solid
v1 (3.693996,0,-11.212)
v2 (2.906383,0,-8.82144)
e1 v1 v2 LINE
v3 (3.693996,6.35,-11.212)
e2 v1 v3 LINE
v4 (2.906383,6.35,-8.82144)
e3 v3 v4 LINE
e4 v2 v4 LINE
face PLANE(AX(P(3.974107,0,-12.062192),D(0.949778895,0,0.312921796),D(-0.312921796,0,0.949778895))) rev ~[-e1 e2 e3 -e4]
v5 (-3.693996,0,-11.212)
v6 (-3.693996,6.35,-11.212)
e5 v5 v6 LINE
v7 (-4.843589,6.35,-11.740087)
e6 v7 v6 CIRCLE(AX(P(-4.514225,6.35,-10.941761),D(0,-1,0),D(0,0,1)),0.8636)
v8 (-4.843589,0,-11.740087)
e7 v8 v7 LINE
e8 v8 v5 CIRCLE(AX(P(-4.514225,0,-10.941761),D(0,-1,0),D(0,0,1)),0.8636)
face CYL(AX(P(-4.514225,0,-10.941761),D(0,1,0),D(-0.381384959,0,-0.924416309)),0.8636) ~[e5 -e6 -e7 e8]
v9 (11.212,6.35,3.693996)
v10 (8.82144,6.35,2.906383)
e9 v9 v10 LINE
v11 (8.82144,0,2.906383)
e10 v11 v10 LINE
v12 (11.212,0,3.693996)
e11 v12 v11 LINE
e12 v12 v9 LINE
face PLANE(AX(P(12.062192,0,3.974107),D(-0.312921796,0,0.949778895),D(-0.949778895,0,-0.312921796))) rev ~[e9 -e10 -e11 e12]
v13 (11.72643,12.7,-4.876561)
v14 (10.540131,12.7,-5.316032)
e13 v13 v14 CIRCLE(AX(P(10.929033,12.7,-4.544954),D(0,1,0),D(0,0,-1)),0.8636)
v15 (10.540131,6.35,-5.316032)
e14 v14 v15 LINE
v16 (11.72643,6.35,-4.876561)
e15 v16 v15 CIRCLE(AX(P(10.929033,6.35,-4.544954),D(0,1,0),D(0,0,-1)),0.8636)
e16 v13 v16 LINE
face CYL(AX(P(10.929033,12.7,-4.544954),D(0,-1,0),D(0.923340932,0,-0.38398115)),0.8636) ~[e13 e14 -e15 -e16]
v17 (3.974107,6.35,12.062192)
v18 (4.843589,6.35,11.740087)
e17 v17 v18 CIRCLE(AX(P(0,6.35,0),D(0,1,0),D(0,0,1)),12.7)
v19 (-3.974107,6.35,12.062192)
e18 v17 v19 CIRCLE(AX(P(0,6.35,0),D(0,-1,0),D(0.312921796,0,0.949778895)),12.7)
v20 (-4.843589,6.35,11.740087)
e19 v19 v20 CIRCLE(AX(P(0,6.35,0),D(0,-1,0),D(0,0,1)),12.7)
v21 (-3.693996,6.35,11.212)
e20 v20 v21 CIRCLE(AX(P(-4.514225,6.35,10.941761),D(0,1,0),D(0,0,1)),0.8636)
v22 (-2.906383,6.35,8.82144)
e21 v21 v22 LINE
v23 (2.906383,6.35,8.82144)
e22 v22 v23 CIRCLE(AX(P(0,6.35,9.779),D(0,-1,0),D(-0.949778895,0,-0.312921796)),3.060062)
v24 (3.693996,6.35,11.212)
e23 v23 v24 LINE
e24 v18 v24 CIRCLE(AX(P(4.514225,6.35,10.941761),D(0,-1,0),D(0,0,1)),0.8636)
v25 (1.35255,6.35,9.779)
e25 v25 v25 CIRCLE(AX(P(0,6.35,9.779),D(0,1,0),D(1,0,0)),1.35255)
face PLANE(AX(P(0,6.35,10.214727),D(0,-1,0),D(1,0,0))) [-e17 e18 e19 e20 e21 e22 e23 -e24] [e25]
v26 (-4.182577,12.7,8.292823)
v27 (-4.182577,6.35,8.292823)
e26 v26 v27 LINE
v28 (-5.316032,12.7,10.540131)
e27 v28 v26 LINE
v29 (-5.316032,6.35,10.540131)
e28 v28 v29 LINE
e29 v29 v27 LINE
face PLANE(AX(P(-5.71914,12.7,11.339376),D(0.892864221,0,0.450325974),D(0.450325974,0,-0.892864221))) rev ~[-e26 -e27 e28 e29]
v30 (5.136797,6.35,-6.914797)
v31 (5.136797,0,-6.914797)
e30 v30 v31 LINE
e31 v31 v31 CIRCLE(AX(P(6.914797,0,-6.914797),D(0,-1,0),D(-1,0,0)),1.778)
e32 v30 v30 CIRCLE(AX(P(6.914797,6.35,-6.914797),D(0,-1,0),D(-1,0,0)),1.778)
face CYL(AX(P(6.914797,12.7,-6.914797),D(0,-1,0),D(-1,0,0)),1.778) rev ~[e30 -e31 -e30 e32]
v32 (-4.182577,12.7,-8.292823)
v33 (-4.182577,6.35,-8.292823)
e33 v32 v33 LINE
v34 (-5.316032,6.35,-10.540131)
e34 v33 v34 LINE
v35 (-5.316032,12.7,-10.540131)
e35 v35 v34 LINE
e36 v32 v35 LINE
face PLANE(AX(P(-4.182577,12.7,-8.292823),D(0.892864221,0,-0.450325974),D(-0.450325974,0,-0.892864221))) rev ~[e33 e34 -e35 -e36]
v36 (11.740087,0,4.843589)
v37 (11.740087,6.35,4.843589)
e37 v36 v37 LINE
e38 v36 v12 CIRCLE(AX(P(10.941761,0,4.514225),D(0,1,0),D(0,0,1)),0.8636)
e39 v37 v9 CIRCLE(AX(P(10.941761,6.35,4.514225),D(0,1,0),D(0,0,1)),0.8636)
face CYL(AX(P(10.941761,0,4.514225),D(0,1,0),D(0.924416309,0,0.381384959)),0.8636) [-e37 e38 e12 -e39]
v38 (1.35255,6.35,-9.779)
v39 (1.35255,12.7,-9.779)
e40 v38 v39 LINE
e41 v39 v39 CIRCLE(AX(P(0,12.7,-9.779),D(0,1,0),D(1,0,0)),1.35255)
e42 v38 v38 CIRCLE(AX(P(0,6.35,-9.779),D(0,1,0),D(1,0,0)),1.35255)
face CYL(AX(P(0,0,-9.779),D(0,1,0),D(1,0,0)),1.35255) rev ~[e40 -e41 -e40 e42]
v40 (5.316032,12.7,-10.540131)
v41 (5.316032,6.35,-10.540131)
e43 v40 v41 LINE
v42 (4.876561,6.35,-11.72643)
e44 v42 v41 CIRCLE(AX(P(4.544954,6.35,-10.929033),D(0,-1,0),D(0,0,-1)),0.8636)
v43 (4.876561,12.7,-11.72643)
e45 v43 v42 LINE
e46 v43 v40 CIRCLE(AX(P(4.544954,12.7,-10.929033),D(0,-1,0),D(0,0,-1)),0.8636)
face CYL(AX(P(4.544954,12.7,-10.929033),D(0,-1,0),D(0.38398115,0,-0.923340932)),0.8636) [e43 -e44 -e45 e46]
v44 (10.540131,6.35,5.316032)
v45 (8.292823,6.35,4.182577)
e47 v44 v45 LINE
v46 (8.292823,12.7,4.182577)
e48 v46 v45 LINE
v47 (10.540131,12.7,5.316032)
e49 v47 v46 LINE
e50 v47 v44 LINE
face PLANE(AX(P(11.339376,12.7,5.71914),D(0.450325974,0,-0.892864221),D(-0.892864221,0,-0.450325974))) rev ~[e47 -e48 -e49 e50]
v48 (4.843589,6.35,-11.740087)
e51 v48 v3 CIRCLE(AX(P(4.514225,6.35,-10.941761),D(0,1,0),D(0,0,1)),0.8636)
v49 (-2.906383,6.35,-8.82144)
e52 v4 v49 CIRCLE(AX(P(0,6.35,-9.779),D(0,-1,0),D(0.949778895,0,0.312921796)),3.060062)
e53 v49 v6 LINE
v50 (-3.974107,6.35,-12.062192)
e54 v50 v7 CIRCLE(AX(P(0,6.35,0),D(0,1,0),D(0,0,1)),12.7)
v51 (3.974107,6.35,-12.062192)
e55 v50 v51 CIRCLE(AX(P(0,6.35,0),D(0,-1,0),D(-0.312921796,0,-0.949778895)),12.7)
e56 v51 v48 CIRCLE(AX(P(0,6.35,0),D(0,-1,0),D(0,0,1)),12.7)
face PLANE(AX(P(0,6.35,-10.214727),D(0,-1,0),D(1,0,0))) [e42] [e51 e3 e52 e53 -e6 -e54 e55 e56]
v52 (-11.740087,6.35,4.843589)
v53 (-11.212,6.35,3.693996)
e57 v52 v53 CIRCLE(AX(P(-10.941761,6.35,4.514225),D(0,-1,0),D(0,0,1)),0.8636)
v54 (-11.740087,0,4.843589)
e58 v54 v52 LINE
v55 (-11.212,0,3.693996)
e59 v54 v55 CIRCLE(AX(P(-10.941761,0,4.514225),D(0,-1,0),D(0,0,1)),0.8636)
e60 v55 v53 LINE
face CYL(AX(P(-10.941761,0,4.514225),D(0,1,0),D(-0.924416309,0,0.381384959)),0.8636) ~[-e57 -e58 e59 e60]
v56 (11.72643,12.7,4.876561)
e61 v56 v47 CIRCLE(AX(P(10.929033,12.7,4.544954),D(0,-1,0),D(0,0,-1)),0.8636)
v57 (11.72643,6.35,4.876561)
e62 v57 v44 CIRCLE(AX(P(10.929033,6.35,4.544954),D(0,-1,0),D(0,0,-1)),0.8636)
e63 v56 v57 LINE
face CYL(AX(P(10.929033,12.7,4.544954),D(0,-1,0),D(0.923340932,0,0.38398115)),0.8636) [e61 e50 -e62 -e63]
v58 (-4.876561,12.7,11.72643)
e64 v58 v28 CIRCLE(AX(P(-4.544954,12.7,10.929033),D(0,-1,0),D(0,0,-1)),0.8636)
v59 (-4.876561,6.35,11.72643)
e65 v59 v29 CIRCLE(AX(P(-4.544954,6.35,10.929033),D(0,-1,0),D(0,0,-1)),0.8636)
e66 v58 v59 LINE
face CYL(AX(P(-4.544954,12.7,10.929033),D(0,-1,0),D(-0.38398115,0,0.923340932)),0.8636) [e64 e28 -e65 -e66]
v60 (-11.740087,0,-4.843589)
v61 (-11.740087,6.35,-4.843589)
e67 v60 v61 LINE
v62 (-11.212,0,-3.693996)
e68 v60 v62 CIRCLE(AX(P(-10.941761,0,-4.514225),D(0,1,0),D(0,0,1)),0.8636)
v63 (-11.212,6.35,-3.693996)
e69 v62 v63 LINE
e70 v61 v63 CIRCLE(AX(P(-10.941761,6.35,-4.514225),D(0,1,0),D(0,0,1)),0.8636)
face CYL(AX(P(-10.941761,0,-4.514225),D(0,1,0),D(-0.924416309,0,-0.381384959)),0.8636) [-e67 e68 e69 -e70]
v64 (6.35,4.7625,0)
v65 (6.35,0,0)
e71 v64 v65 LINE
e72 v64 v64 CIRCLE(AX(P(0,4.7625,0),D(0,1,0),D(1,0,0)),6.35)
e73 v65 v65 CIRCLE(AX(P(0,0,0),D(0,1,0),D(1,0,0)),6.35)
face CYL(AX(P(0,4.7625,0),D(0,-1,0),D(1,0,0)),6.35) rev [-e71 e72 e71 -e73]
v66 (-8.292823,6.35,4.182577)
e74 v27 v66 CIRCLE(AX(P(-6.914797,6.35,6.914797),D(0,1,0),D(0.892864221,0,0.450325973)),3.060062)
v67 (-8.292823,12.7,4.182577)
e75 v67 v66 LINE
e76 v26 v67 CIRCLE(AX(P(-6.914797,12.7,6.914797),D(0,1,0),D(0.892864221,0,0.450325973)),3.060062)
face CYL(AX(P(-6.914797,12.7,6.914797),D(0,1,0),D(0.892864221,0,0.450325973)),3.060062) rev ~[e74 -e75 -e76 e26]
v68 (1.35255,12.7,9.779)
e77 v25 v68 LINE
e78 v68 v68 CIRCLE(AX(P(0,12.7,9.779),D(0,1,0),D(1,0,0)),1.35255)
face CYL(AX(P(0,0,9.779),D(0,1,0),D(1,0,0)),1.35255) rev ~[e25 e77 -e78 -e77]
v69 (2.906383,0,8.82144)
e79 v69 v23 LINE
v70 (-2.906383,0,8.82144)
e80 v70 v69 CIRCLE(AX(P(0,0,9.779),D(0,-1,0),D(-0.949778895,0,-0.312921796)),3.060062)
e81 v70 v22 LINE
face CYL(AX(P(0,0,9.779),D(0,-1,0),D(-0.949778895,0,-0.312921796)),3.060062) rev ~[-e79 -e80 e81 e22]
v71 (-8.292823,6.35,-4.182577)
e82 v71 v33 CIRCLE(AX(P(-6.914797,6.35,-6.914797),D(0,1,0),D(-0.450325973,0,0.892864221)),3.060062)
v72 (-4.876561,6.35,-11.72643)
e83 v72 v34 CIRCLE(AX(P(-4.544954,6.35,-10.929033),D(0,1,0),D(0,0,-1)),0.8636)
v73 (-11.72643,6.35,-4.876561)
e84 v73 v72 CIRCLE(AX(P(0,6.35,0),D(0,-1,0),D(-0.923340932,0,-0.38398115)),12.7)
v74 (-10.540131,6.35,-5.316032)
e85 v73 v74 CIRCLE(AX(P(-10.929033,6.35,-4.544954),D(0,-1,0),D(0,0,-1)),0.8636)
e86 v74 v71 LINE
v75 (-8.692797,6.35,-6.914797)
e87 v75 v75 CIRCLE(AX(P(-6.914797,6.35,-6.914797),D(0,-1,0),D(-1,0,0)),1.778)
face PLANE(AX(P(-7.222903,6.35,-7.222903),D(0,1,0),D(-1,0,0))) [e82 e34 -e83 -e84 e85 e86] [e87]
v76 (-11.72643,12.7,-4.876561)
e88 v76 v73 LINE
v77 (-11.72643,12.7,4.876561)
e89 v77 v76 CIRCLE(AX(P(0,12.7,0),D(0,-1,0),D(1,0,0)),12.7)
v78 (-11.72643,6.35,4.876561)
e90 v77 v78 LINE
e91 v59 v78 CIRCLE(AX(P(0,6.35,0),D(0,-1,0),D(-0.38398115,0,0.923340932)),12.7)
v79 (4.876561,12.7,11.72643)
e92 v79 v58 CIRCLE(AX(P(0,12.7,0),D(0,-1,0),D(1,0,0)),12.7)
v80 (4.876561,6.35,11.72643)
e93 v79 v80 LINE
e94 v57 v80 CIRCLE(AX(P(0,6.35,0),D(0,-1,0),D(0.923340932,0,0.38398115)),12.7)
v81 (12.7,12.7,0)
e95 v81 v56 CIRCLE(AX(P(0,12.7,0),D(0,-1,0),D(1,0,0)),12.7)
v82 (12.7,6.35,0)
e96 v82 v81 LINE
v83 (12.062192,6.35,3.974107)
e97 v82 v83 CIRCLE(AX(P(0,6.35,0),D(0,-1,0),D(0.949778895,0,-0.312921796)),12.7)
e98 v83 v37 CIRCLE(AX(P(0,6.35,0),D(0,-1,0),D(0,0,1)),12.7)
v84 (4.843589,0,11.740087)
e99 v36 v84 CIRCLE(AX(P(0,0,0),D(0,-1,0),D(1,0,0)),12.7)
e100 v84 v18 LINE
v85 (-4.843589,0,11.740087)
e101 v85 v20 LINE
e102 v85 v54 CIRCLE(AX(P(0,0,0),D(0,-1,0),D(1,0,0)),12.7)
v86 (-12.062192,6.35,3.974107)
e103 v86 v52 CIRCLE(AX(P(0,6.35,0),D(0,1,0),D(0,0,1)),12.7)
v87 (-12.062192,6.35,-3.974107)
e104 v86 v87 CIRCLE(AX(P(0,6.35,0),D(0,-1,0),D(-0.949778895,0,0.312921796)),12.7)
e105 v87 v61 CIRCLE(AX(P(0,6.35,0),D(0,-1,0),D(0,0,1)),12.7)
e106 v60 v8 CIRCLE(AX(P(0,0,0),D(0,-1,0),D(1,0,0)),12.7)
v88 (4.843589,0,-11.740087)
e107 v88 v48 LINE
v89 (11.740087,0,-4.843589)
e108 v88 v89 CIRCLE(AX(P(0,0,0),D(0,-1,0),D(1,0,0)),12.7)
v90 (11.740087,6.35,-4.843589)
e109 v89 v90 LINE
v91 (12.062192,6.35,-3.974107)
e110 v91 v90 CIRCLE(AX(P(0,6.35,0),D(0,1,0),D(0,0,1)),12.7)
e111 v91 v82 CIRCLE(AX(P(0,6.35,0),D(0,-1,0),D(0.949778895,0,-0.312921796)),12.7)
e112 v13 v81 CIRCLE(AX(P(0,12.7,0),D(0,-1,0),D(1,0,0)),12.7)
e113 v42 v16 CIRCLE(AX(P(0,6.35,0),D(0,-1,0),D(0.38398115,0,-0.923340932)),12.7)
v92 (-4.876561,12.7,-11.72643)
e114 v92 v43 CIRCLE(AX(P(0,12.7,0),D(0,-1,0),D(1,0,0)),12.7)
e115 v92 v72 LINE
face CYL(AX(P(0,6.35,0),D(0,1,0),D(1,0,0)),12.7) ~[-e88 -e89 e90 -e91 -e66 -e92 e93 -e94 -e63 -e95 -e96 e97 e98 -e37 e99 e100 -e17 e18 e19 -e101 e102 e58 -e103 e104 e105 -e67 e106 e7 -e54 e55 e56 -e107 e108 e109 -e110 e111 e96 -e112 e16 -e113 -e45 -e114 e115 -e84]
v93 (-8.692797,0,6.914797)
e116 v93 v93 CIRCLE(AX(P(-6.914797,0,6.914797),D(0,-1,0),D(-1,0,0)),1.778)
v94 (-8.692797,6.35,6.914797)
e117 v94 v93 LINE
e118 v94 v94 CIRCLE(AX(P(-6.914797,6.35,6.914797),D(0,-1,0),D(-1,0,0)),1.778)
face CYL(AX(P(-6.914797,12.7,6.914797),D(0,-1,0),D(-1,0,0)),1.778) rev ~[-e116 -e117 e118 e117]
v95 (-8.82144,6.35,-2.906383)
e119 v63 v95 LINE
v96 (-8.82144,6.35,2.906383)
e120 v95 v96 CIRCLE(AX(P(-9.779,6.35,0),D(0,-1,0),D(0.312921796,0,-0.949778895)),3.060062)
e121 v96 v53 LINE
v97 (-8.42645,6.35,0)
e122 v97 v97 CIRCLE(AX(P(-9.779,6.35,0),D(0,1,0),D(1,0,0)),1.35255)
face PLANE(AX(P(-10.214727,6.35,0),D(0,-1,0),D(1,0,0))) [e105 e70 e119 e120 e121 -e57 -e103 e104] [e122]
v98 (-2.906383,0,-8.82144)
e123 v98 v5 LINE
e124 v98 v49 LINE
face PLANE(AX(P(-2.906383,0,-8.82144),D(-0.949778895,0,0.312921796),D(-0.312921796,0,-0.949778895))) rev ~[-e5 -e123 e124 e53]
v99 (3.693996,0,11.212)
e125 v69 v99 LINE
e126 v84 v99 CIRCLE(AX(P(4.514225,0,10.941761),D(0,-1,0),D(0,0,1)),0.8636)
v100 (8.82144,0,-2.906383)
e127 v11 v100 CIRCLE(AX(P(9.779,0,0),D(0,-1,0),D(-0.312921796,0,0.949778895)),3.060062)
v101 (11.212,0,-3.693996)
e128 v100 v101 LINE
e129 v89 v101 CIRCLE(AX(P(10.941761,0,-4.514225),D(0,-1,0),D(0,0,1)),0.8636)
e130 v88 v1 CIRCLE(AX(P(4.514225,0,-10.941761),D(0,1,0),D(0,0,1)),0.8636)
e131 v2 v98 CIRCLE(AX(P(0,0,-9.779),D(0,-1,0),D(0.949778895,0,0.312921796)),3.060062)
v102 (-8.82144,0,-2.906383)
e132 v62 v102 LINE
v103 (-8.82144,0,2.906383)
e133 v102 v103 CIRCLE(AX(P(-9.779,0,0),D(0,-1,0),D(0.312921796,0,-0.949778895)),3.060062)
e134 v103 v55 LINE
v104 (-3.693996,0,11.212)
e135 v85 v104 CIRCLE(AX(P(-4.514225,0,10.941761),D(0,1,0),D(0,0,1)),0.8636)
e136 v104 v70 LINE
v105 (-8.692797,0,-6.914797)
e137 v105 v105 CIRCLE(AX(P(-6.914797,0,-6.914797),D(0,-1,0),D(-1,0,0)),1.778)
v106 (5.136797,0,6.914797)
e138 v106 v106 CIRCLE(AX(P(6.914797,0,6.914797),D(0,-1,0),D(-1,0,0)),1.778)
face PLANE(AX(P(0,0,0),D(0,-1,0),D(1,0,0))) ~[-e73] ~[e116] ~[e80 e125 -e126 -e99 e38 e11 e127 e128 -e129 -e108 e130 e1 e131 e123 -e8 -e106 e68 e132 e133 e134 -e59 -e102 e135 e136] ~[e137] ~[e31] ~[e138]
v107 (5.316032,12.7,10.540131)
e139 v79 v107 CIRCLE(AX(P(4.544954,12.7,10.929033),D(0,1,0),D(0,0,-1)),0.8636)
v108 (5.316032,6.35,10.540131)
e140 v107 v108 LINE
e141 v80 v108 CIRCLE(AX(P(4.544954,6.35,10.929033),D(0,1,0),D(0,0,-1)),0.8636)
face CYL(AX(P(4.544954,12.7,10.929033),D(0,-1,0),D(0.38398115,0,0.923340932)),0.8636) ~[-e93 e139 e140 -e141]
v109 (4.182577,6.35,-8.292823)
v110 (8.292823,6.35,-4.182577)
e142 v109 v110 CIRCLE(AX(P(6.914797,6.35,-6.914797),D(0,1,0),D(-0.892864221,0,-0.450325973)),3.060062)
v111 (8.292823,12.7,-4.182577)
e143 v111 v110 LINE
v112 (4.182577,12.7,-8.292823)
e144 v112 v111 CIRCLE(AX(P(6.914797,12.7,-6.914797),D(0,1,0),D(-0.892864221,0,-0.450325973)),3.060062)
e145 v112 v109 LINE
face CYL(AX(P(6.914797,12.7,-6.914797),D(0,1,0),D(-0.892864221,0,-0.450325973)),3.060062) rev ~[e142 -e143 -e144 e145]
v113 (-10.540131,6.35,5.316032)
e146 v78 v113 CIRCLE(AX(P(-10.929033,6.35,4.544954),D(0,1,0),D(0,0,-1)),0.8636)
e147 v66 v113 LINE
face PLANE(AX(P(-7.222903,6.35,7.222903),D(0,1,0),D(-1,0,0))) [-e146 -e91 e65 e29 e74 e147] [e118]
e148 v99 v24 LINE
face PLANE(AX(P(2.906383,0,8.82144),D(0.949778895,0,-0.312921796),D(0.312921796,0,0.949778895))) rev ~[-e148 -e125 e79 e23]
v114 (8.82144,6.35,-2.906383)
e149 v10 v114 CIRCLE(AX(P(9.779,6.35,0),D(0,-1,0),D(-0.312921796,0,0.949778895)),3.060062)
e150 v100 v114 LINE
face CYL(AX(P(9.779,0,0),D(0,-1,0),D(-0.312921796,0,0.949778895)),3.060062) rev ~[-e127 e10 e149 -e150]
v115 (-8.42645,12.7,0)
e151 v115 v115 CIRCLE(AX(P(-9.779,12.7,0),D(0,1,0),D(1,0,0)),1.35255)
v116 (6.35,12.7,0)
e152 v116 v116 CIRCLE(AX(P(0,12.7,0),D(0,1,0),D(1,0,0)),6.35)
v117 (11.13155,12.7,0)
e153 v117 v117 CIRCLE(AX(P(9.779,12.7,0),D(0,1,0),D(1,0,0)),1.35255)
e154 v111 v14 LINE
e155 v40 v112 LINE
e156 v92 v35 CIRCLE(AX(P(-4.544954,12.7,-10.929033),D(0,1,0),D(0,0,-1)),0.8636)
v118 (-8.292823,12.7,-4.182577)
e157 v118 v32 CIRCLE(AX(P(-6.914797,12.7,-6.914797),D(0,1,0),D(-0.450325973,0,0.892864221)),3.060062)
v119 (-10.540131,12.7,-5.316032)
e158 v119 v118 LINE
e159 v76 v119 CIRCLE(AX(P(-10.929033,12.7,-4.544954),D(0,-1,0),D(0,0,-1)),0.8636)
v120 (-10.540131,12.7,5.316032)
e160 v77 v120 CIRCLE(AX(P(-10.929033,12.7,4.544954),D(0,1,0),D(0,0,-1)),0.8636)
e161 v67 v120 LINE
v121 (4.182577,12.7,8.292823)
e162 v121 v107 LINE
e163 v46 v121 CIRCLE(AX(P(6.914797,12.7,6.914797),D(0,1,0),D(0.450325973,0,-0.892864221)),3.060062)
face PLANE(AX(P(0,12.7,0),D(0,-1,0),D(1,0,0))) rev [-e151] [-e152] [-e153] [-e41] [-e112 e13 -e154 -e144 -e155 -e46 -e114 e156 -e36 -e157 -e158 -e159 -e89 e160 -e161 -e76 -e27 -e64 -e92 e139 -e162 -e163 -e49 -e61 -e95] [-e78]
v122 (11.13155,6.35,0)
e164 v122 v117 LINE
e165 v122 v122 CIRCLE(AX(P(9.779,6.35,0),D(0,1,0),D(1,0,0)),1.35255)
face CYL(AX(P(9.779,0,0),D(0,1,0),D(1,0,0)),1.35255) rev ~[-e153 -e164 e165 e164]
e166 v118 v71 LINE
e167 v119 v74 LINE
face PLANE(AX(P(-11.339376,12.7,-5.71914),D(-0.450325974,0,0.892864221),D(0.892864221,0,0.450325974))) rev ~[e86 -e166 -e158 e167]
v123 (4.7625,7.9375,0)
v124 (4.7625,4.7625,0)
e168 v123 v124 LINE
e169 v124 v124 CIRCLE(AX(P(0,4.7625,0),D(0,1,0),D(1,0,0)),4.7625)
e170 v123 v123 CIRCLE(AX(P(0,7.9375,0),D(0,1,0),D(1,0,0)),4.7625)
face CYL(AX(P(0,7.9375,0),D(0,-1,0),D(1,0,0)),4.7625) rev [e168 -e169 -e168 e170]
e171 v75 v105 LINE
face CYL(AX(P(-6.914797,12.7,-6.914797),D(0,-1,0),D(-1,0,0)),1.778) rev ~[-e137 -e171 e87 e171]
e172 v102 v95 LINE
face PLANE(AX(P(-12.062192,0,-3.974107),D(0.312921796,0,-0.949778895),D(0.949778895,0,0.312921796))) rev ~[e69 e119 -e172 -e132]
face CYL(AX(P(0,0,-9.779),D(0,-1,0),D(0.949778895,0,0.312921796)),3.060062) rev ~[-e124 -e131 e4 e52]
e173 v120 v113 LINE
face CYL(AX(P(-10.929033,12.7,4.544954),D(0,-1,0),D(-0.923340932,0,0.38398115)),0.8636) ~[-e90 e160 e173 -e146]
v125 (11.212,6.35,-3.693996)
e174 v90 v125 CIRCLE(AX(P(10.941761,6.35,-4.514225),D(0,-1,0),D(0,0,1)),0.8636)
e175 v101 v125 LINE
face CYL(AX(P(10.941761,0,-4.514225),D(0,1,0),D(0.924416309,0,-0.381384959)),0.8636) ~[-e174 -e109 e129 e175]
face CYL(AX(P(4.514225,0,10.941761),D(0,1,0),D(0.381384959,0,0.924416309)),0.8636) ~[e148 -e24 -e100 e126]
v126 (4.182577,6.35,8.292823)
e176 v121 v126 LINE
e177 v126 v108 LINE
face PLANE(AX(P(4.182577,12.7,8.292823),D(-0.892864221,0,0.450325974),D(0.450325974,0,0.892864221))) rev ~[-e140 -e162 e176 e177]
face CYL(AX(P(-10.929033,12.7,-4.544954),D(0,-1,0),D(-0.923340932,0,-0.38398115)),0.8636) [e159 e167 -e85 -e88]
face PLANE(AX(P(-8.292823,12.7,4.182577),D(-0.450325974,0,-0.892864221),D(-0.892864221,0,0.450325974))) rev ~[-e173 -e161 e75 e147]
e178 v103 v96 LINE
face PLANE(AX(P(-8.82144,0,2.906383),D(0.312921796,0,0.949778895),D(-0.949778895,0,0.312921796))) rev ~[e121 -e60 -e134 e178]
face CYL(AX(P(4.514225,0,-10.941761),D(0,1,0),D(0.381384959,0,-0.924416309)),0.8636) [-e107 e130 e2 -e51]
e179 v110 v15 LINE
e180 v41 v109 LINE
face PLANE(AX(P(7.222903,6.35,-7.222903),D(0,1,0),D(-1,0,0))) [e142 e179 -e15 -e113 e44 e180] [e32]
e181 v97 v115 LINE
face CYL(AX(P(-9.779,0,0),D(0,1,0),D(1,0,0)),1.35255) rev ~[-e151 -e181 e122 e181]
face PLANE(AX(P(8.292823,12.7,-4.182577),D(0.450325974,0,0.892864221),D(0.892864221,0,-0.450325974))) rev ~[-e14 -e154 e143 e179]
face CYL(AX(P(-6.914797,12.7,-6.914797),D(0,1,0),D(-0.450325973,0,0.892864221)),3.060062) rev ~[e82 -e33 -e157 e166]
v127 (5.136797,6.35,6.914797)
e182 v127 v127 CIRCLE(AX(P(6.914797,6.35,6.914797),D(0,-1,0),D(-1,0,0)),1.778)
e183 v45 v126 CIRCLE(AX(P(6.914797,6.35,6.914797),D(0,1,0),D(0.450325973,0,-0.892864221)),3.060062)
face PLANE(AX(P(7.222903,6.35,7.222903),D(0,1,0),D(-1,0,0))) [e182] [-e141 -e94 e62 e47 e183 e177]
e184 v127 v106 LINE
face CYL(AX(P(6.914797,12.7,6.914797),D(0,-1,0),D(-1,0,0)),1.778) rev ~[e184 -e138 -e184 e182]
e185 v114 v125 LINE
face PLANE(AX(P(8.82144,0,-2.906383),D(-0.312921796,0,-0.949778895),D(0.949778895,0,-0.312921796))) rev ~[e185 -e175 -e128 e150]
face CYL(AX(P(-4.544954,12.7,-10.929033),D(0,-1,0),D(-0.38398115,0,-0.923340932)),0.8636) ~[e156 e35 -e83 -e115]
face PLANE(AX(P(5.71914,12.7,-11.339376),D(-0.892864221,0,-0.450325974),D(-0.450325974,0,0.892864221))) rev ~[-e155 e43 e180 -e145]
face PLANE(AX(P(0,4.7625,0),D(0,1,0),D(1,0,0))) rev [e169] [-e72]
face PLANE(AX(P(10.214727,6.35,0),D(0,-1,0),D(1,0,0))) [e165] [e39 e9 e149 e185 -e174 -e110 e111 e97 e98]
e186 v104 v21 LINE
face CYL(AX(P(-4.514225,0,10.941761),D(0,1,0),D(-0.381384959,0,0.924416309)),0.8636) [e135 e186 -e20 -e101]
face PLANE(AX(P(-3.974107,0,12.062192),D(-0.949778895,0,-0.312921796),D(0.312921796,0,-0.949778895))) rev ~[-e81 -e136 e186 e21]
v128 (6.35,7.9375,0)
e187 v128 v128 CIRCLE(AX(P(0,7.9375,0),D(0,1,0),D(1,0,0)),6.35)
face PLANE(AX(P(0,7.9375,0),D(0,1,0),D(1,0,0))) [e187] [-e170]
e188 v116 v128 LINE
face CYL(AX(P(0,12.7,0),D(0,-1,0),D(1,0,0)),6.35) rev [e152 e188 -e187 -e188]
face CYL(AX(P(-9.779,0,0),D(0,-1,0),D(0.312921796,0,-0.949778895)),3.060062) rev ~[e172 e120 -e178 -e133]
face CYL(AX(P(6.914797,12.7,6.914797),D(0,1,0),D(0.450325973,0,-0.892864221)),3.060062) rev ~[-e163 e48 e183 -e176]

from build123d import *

# Parameters (mm, degrees)
SKETCH1_W                  = 12.7
SKETCH1_H                  = 12.7
CUT_EXTRUDE1_DEPTH         = 6.35
CUT_EXTRUDE2_DEPTH         = 6.35
CUT_EXTRUDE3_DEPTH         = 6.35
CUT_EXTRUDE4_DEPTH         = 6.35
CUT_EXTRUDE5_DEPTH         = 6.35
CUT_EXTRUDE6_DEPTH         = 6.35
CUT_EXTRUDE7_DEPTH         = 6.35
CUT_EXTRUDE8_DEPTH         = 6.35
M3_CLEARANCE_HOLE1_D       = 3.556
M3_CLEARANCE_HOLE1_DEPTH   = 6.35
M2_5_CLEARANCE_HOLE1_D     = 2.7051
M2_5_CLEARANCE_HOLE1_DEPTH = 6.35
FILLET1_R                  = 0.8636


with BuildPart() as part:
    # Sketch1 → Revolve1 (revolve)
    with BuildSketch(Plane.XY):
        with Locations((6.35, 6.35)):
            Rectangle(SKETCH1_W, SKETCH1_H)
    revolve(axis=Axis((0, 12.7, 0), (0, -1, 0)))

    # Sketch2 → Cut-Extrude1 (cut)
    with BuildSketch(Plane(origin=(0, 12.7, 0), x_dir=(-1, 0, 0), z_dir=(0, 1, 0))):
        with BuildLine():
            Line((-5.719139865, -11.339375609), (-4.182577123, -8.292822721))
            ThreePointArc((-4.182577123, -8.292822721), (-4.751006452, -4.751006452), (-8.292822721, -4.182577123))
            Line((-8.292822721, -4.182577123), (-11.339375609, -5.719139865))
            ThreePointArc((-11.339375609, -5.719139865), (-8.980256121, -8.980256121), (-5.719139865, -11.339375609))
        make_face()
    extrude(amount=-CUT_EXTRUDE1_DEPTH, mode=Mode.SUBTRACT)

    # Sketch3 → Cut-Extrude2 (cut)
    with BuildSketch(Plane(origin=(0, 12.7, 0), x_dir=(-1, 0, 0), z_dir=(0, 1, 0))):
        with BuildLine():
            Line((-11.339375609, 5.719139865), (-8.292822721, 4.182577123))
            ThreePointArc((-8.292822721, 4.182577123), (-4.751006452, 4.751006452), (-4.182577123, 8.292822721))
            Line((-4.182577123, 8.292822721), (-5.719139865, 11.339375609))
            ThreePointArc((-5.719139865, 11.339375609), (-8.980256121, 8.980256121), (-11.339375609, 5.719139865))
        make_face()
    extrude(amount=-CUT_EXTRUDE2_DEPTH, mode=Mode.SUBTRACT)

    # Sketch4 → Cut-Extrude3 (cut)
    with BuildSketch(Plane.XZ):
        with BuildLine():
            Line((12.062191969, 3.974106807), (8.821439828, 2.906382535))
            ThreePointArc((8.821439828, 2.906382535), (6.718937759, 0), (8.821439828, -2.906382535))
            Line((8.821439828, -2.906382535), (12.062191969, -3.974106807))
            ThreePointArc((12.062191969, -3.974106807), (12.7, 0), (12.062191969, 3.974106807))
        make_face()
    extrude(amount=-CUT_EXTRUDE3_DEPTH, mode=Mode.SUBTRACT)

    # Sketch5 → Cut-Extrude4 (cut)
    with BuildSketch(Plane(origin=(0, 12.7, 0), x_dir=(-1, 0, 0), z_dir=(0, 1, 0))):
        with BuildLine():
            Line((5.719139865, 11.339375609), (4.182577123, 8.292822721))
            ThreePointArc((4.182577123, 8.292822721), (4.751006452, 4.751006452), (8.292822721, 4.182577123))
            Line((8.292822721, 4.182577123), (11.339375609, 5.719139865))
            ThreePointArc((11.339375609, 5.719139865), (8.980256121, 8.980256121), (5.719139865, 11.339375609))
        make_face()
    extrude(amount=-CUT_EXTRUDE4_DEPTH, mode=Mode.SUBTRACT)

    # Sketch6 → Cut-Extrude5 (cut)
    with BuildSketch(Plane(origin=(0, 12.7, 0), x_dir=(-1, 0, 0), z_dir=(0, 1, 0))):
        with BuildLine():
            Line((11.339375609, -5.719139865), (8.292822721, -4.182577123))
            ThreePointArc((8.292822721, -4.182577123), (4.751006452, -4.751006452), (4.182577123, -8.292822721))
            Line((4.182577123, -8.292822721), (5.719139865, -11.339375609))
            ThreePointArc((5.719139865, -11.339375609), (8.980256121, -8.980256121), (11.339375609, -5.719139865))
        make_face()
    extrude(amount=-CUT_EXTRUDE5_DEPTH, mode=Mode.SUBTRACT)

    # Sketch7 → Cut-Extrude6 (cut)
    with BuildSketch(Plane.XZ):
        with BuildLine():
            Line((3.974106807, -12.062191969), (2.906382535, -8.821439828))
            ThreePointArc((2.906382535, -8.821439828), (0, -6.718937759), (-2.906382535, -8.821439828))
            Line((-2.906382535, -8.821439828), (-3.974106807, -12.062191969))
            ThreePointArc((-3.974106807, -12.062191969), (0, -12.7), (3.974106807, -12.062191969))
        make_face()
    extrude(amount=-CUT_EXTRUDE6_DEPTH, mode=Mode.SUBTRACT)

    # Sketch8 → Cut-Extrude7 (cut)
    with BuildSketch(Plane.XZ):
        with BuildLine():
            Line((-12.062191969, -3.974106807), (-8.821439828, -2.906382535))
            ThreePointArc((-8.821439828, -2.906382535), (-6.718937759, 0), (-8.821439828, 2.906382535))
            Line((-8.821439828, 2.906382535), (-12.062191969, 3.974106807))
            ThreePointArc((-12.062191969, 3.974106807), (-12.7, 0), (-12.062191969, -3.974106807))
        make_face()
    extrude(amount=-CUT_EXTRUDE7_DEPTH, mode=Mode.SUBTRACT)

    # Sketch9 → Cut-Extrude8 (cut)
    with BuildSketch(Plane.XZ):
        with BuildLine():
            Line((-3.974106807, 12.062191969), (-2.906382535, 8.821439828))
            ThreePointArc((-2.906382535, 8.821439828), (0, 6.718937759), (2.906382535, 8.821439828))
            Line((2.906382535, 8.821439828), (3.974106807, 12.062191969))
            ThreePointArc((3.974106807, 12.062191969), (0, 12.7), (-3.974106807, 12.062191969))
        make_face()
    extrude(amount=-CUT_EXTRUDE8_DEPTH, mode=Mode.SUBTRACT)

    # Sketch10 → Cut-Revolve1 (revolve, cut)
    with BuildSketch(Plane(origin=(0, 0, 0), x_dir=(-1, 0, 0), z_dir=(0, 0, -1))):
        Polygon((-6.35, 0), (0, 0), (0, 12.7), (-6.35, 12.7), (-6.35, 7.9375), (-4.7625, 7.9375), (-4.7625, 4.7625), (-6.35, 4.7625), align=None)
    revolve(axis=Axis((0, 0, 0), (0, 1, 0)), mode=Mode.SUBTRACT)

    # M3 Clearance Hole1
    with Locations(Plane(origin=(0, 6.35, 0), x_dir=(1, 0, 0), z_dir=(0, 1, 0))):
        with Locations((6.914797213, 6.914797213), (-6.914797213, 6.914797213), (-6.914797213, -6.914797213), (6.914797213, -6.914797213)):
            Hole(M3_CLEARANCE_HOLE1_D / 2, depth=M3_CLEARANCE_HOLE1_DEPTH)

    # M2.5 Clearance Hole1
    with Locations(Plane(origin=(0, 6.35, 0), x_dir=(-1, 0, 0), z_dir=(0, -1, 0))):
        with Locations((-9.779, 0), (0, 9.779), (9.779, 0), (0, -9.779)):
            Hole(M2_5_CLEARANCE_HOLE1_D / 2, depth=M2_5_CLEARANCE_HOLE1_DEPTH)

    # Fillet1
    fillet1_edges = [part.edges().sort_by_distance(p)[0] for p in [
        (-3.974106807, 3.175, 12.062191969),
        (3.974106807, 3.175, 12.062191969),
        (5.719139865, 9.525, -11.339375609),
        (11.339375609, 9.525, -5.719139865),
        (11.339375609, 9.525, 5.719139865),
        (5.719139865, 9.525, 11.339375609),
        (12.062191969, 3.175, 3.974106807),
        (12.062191969, 3.175, -3.974106807),
        (-5.719139865, 9.525, 11.339375609),
        (-11.339375609, 9.525, 5.719139865),
        (-11.339375609, 9.525, -5.719139865),
        (-5.719139865, 9.525, -11.339375609),
        (3.974106807, 3.175, -12.062191969),
        (-3.974106807, 3.175, -12.062191969),
        (-12.062191969, 3.175, -3.974106807),
        (-12.062191969, 3.175, 3.974106807),
    ]]
    fillet(fillet1_edges, radius=FILLET1_R)


solid = part.part
